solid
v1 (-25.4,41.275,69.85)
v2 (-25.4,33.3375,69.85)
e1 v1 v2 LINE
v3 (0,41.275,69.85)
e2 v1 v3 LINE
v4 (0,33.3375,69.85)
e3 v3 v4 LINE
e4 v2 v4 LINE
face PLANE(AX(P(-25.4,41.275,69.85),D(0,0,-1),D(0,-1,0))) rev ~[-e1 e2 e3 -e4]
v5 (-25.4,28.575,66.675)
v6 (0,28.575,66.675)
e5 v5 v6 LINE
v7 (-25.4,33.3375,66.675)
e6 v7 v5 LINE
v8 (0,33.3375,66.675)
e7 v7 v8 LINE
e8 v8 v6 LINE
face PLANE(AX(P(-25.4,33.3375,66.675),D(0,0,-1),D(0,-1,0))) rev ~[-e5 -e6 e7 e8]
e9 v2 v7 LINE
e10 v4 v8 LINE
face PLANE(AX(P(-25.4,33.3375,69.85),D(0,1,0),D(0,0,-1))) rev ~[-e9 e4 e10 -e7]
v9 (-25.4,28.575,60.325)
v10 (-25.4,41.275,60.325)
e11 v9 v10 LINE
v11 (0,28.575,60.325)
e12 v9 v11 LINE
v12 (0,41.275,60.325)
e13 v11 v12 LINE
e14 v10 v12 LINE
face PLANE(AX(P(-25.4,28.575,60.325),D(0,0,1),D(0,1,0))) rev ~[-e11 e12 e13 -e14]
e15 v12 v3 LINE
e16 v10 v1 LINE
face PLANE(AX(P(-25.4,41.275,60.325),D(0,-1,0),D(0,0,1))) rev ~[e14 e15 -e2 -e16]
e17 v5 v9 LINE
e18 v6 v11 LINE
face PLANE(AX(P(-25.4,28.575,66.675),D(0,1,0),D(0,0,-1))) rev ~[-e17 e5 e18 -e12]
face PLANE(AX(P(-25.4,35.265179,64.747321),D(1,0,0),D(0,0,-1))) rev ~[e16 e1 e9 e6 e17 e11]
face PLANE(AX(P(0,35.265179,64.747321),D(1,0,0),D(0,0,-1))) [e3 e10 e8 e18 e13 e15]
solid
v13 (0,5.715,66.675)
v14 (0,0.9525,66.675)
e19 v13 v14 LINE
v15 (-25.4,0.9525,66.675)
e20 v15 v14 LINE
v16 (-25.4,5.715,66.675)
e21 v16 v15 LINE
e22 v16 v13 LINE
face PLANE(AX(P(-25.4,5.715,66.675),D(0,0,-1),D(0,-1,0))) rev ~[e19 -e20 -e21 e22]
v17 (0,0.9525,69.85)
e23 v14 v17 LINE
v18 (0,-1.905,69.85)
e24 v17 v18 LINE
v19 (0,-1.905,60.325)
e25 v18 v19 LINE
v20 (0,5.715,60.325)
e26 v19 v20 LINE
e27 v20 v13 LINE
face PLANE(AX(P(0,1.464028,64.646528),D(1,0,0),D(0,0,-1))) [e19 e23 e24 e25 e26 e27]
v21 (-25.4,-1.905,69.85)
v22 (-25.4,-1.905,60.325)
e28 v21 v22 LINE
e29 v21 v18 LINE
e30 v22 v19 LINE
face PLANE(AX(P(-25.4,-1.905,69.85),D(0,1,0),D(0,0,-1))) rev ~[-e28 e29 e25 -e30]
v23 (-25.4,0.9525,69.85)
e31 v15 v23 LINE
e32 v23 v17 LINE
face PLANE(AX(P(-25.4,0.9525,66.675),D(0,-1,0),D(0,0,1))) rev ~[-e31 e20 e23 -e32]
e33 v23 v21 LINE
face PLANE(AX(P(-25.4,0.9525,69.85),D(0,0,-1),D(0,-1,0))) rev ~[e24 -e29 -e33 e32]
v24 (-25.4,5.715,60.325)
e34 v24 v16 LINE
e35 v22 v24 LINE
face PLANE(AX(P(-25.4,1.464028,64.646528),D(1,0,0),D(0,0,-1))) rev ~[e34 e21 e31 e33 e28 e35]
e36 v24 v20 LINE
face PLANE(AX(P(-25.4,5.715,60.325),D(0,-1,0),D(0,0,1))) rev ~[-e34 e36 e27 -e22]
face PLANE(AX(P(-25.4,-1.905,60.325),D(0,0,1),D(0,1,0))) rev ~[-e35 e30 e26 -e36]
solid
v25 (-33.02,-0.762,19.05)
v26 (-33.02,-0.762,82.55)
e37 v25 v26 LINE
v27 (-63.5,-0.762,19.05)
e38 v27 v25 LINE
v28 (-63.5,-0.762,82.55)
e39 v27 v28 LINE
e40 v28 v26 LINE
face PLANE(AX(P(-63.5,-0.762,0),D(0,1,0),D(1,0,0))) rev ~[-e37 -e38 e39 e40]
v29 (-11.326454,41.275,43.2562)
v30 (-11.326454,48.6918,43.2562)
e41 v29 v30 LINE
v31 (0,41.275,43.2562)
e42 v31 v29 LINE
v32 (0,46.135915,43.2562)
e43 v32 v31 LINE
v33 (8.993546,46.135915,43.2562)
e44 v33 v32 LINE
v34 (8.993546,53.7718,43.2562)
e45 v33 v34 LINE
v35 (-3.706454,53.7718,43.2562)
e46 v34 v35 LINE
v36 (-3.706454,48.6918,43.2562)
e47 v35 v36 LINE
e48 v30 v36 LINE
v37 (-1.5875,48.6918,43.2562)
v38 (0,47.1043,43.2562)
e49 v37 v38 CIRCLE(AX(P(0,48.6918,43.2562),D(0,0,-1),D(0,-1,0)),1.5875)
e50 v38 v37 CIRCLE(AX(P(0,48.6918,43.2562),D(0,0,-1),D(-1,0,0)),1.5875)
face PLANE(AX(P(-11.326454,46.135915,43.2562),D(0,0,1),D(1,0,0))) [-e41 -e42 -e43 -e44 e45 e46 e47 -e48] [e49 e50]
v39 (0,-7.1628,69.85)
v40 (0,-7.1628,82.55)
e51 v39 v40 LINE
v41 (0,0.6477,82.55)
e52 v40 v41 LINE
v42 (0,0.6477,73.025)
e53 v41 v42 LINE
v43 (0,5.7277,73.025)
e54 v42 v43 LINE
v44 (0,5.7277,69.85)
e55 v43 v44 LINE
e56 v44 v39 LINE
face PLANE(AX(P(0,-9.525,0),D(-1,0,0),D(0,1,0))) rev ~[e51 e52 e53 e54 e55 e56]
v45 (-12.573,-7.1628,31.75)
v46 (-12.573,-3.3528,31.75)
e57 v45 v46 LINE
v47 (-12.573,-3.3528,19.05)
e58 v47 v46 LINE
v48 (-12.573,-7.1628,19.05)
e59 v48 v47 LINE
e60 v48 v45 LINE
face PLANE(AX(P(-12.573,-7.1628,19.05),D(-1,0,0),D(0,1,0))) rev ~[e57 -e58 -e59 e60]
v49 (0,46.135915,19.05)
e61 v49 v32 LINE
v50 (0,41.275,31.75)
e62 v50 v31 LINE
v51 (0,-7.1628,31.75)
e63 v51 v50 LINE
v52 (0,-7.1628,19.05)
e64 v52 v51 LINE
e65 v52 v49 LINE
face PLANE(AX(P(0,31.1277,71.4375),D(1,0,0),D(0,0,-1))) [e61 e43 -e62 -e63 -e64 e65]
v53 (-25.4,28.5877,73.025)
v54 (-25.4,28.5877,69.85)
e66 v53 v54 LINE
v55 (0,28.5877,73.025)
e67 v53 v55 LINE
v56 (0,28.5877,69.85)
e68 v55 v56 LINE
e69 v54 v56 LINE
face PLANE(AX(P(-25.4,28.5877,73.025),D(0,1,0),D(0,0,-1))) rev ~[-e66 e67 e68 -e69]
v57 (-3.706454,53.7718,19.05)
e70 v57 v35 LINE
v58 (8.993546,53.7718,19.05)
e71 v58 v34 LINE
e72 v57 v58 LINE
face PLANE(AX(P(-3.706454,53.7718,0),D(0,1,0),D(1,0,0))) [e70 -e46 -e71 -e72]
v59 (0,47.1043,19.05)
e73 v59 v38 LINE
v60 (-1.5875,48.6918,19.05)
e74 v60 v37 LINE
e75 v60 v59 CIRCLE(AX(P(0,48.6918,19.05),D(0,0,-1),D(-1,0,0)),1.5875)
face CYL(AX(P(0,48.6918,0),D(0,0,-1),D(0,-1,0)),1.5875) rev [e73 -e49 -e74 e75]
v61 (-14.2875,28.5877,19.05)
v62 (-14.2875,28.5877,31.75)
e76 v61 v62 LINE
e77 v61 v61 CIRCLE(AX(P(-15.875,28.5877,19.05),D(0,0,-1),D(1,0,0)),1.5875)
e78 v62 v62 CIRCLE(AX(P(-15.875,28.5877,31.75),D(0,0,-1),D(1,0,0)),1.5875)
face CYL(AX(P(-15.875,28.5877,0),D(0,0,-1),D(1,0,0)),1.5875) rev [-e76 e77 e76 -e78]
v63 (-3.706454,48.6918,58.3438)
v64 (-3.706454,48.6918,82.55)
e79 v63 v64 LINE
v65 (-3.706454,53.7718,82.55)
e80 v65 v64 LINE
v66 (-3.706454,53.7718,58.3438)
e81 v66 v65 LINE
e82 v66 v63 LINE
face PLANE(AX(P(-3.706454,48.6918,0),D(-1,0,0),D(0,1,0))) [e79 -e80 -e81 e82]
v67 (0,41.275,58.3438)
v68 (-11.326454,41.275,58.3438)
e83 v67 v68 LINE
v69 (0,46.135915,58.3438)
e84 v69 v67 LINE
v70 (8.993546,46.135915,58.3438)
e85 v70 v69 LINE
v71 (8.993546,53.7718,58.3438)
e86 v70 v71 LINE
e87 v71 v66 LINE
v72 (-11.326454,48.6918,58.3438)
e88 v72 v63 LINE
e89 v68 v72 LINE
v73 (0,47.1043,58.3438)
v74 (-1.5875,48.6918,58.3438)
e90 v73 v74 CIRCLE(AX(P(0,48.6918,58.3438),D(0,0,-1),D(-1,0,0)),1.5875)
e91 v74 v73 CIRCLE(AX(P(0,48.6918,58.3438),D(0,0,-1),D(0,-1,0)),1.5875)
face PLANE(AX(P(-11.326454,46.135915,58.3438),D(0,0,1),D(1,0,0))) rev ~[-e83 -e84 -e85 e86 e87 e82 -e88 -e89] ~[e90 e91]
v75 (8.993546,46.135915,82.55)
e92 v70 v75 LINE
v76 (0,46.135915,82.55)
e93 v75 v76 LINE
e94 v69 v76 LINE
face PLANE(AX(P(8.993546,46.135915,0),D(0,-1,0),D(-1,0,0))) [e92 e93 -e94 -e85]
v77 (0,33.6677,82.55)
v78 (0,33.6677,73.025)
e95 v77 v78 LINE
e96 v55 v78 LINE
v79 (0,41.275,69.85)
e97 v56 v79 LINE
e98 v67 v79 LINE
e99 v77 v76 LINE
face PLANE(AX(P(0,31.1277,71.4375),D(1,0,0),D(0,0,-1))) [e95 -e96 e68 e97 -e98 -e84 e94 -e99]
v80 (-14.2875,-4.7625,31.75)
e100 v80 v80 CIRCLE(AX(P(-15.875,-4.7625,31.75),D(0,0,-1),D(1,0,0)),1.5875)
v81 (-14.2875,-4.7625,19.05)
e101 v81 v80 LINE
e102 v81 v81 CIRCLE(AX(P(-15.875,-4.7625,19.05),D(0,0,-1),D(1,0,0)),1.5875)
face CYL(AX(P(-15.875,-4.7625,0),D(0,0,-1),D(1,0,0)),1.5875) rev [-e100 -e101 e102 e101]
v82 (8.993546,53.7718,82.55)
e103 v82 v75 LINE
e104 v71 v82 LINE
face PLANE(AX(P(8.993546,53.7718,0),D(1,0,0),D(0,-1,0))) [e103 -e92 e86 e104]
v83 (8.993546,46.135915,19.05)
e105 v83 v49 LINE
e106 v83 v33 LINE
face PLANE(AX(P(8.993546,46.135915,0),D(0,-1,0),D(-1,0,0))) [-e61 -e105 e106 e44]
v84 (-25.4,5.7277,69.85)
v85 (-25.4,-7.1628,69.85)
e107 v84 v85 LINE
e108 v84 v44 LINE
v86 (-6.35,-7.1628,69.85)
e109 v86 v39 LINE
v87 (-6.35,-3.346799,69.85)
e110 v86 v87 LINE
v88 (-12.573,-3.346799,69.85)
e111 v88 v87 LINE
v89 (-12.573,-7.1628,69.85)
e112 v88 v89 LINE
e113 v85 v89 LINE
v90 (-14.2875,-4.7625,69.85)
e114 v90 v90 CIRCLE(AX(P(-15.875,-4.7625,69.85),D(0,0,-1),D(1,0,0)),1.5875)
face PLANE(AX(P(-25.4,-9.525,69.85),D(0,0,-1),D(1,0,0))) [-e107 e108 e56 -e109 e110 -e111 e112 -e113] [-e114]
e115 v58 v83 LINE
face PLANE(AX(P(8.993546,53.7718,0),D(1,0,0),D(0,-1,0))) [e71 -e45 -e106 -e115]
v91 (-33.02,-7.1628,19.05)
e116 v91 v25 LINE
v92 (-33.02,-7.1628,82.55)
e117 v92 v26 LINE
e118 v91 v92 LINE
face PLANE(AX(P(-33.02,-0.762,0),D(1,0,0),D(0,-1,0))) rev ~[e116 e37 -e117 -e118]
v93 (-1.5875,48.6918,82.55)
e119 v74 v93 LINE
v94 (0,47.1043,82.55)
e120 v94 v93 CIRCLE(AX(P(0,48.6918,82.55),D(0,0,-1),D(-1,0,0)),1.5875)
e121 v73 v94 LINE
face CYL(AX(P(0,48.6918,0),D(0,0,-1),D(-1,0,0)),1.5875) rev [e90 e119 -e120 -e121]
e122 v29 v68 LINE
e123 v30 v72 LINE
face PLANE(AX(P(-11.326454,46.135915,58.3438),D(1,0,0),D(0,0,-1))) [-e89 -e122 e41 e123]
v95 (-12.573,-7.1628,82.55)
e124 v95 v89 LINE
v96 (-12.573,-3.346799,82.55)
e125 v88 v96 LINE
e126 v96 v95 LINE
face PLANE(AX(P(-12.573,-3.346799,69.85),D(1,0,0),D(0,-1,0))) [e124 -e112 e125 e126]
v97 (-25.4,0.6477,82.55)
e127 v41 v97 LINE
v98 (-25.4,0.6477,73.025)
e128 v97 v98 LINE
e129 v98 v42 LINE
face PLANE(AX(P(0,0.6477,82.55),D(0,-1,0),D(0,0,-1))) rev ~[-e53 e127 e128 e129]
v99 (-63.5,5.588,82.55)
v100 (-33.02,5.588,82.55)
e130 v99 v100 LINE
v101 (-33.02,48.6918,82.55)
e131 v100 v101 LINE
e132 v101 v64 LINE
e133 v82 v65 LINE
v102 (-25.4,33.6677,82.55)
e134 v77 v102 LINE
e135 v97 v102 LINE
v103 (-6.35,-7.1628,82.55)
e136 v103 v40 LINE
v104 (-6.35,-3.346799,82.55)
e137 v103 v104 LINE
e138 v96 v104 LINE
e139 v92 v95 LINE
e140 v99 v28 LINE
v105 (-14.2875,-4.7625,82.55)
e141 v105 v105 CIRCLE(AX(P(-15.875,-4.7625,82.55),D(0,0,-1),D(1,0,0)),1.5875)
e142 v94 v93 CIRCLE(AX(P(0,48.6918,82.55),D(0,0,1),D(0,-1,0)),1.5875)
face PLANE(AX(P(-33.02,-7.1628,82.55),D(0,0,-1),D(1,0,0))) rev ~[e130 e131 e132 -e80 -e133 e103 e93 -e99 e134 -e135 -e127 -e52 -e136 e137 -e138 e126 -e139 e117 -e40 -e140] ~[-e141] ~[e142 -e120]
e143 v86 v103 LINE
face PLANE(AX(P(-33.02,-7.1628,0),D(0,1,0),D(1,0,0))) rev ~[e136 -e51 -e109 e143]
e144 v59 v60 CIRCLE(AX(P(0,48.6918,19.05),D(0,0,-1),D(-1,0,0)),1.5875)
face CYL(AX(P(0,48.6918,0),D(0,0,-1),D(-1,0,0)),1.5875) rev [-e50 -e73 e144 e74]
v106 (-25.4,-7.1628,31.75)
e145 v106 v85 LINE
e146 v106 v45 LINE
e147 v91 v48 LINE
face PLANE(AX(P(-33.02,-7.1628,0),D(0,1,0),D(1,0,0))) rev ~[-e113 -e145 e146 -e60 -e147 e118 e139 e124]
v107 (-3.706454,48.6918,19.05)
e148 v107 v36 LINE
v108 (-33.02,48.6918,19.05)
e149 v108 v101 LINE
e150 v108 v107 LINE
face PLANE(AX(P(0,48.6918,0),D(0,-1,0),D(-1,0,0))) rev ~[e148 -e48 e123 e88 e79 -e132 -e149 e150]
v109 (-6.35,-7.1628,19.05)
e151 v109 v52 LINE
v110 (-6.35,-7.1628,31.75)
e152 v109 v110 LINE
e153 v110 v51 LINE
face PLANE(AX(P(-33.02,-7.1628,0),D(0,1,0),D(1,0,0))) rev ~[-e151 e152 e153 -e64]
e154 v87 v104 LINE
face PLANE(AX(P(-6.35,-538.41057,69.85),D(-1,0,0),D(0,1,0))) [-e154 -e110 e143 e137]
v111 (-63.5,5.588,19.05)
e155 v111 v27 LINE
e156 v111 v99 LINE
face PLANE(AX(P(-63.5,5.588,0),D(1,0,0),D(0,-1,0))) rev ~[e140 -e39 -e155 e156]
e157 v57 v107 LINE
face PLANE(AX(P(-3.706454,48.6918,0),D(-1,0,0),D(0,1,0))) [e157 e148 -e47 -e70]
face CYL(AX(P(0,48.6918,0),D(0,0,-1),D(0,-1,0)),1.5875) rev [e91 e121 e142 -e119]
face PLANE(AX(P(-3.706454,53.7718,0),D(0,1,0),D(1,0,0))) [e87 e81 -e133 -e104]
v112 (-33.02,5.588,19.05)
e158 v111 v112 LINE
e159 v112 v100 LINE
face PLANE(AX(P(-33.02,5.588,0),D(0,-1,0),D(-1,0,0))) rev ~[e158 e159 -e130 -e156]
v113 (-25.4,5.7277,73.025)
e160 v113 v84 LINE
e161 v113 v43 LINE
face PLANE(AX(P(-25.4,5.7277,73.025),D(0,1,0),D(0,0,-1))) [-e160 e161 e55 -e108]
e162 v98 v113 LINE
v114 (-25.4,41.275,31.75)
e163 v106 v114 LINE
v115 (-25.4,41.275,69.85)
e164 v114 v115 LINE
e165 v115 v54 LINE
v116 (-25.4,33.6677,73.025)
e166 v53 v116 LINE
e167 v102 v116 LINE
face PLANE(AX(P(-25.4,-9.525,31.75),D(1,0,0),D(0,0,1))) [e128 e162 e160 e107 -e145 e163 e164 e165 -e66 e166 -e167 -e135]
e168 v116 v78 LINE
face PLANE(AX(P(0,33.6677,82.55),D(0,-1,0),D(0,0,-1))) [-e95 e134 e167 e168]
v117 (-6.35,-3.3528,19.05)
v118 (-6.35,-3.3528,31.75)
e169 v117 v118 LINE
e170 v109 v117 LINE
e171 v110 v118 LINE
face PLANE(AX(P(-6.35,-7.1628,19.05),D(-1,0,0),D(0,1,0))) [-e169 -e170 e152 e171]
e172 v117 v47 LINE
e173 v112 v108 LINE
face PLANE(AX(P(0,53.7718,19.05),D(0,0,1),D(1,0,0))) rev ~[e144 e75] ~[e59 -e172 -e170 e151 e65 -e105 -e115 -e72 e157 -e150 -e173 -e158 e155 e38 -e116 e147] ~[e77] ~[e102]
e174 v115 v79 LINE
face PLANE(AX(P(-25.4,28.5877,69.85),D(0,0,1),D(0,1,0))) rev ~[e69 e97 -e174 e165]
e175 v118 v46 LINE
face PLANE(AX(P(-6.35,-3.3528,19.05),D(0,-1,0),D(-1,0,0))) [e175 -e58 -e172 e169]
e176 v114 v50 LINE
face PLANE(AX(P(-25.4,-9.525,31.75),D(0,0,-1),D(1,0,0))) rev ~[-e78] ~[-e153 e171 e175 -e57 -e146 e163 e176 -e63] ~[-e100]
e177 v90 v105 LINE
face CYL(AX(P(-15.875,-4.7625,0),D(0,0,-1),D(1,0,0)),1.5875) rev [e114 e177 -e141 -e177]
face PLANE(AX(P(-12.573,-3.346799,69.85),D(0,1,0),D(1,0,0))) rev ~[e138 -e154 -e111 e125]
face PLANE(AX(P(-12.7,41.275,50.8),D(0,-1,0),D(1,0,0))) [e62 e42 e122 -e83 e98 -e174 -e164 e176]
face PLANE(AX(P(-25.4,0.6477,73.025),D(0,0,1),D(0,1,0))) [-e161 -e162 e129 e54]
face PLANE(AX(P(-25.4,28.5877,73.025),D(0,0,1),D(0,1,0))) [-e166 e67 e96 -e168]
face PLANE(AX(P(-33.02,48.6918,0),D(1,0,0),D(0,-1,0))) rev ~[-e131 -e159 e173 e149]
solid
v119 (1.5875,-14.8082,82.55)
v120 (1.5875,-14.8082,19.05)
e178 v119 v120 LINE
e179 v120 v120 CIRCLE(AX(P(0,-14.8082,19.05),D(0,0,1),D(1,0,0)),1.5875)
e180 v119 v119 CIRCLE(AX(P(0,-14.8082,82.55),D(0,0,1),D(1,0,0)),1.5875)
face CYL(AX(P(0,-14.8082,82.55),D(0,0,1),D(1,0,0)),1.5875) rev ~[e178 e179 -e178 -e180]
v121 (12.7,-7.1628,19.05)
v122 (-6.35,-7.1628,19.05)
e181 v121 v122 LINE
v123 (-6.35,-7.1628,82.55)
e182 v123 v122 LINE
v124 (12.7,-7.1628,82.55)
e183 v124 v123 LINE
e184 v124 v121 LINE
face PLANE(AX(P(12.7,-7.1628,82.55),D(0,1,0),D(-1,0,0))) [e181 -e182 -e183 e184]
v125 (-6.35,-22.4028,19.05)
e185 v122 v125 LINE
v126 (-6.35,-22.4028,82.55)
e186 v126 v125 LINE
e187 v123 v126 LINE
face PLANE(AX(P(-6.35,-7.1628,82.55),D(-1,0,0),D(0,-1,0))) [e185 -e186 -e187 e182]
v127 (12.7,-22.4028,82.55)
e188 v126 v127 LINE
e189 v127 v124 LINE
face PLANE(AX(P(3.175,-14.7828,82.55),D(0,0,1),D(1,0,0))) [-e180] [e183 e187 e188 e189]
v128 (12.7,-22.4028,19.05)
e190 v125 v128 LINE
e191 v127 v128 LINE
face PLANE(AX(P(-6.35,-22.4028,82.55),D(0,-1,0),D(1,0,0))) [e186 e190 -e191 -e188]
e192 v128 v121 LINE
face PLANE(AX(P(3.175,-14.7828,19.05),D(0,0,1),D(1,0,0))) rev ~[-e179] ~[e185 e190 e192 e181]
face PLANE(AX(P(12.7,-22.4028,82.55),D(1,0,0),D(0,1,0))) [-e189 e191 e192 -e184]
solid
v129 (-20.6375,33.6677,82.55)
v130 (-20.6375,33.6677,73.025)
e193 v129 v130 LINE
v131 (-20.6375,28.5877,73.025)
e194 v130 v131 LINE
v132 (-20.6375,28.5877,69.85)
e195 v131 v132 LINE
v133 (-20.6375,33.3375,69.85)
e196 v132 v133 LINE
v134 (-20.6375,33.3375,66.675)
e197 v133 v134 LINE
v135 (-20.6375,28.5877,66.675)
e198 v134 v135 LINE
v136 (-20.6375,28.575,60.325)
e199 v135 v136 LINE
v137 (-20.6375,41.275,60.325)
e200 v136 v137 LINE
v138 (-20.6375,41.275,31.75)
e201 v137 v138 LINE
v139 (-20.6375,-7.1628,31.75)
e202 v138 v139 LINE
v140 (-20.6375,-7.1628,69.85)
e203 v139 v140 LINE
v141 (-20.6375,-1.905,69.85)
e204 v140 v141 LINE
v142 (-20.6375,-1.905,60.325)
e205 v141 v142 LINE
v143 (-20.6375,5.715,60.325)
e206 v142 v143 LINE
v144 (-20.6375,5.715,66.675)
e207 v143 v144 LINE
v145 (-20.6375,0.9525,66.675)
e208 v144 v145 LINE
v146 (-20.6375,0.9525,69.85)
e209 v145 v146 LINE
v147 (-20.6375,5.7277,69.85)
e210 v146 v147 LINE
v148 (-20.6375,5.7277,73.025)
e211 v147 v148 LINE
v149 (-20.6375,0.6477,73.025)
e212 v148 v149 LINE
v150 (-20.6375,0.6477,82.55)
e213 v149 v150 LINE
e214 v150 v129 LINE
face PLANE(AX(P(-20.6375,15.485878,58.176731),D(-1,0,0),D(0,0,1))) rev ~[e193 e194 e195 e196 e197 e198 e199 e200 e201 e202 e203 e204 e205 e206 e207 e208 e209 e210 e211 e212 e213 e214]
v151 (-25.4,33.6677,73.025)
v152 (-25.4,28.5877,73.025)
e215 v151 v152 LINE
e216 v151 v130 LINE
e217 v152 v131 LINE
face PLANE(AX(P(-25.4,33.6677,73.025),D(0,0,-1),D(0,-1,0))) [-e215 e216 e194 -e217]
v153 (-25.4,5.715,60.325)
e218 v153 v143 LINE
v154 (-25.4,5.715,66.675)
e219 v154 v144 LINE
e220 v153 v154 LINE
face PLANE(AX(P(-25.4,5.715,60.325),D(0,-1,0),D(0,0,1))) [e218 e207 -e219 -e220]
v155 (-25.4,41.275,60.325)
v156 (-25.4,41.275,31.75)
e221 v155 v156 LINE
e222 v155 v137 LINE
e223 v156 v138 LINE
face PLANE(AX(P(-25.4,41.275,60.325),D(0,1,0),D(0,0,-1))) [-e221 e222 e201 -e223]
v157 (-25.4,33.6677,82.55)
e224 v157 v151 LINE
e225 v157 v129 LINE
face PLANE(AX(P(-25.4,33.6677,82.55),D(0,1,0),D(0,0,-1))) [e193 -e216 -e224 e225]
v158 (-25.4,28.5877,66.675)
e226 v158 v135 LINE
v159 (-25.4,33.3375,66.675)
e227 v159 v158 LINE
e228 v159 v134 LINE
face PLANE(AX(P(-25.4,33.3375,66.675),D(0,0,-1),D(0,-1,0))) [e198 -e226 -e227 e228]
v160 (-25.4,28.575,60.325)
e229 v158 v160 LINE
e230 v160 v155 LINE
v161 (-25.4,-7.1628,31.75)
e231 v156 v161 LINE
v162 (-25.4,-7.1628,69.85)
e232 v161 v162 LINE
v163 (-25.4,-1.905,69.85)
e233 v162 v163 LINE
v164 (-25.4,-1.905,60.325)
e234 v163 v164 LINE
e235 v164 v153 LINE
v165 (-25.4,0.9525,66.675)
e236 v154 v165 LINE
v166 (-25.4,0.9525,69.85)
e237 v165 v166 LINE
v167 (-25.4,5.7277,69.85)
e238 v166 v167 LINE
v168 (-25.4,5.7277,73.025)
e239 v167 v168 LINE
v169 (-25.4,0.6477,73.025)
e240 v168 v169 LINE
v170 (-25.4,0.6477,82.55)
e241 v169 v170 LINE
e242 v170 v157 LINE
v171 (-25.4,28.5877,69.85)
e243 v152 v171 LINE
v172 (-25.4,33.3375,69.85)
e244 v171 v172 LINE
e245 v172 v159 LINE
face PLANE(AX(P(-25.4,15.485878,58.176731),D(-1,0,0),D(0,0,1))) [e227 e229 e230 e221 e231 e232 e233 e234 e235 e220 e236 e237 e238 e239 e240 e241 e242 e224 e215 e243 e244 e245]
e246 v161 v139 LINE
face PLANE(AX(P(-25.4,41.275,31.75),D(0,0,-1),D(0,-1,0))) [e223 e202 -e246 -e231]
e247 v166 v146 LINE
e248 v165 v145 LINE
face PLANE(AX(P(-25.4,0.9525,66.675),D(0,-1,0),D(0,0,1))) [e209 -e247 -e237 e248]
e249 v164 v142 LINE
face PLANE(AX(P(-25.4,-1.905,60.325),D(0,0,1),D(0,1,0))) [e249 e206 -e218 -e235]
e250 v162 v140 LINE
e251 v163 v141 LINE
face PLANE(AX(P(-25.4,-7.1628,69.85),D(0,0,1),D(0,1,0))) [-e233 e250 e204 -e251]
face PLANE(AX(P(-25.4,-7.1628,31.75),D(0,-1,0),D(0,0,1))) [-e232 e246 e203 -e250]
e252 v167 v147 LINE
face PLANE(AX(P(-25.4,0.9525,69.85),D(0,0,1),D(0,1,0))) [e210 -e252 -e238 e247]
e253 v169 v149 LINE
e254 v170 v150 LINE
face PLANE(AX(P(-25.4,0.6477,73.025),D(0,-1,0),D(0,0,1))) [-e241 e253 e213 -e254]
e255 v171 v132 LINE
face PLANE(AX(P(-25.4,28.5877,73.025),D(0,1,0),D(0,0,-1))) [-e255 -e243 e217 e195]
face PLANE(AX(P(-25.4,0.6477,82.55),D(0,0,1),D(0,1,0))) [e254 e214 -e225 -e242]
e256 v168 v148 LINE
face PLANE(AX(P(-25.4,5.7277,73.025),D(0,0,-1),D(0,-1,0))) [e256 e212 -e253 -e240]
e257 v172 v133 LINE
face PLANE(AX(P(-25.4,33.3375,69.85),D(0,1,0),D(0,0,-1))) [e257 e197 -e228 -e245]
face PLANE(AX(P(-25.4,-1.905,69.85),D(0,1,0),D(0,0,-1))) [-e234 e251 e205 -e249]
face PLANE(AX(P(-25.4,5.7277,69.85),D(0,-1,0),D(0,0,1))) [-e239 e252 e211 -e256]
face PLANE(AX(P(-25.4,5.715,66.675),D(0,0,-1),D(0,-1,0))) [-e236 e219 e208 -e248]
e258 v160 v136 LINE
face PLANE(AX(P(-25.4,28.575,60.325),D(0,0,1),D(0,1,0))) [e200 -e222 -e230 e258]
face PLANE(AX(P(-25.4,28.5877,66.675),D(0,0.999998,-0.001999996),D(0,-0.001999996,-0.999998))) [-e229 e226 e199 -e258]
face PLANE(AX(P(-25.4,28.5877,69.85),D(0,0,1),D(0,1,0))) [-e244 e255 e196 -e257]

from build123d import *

# Parameters (mm, degrees)
SKETCH8_R                = 1.5875
BOSS_EXTRUDE3_DEPTH      = 101.6
SKETCH40_W               = 25.4
SKETCH40_H               = 38.1
CUT_EXTRUDE24_DEPTH      = 50.8
CUT_EXTRUDE11_DEPTH      = 130.327883255
CUT_EXTRUDE11_DEPTH_BACK = 101.6
SKETCH18_W               = 33.02
SKETCH18_H               = 2.3622
BOSS_EXTRUDE4_DEPTH      = 101.6
CUT_EXTRUDE12_START      = -101.6
SKETCH20_R               = 1.5875
CUT_EXTRUDE12_DEPTH      = 101.6
SKETCH21_W               = 33.02
SKETCH21_H               = 19.05
CUT_EXTRUDE13_DEPTH      = 135.416648809
SKETCH24_W               = 8.993546066
SKETCH24_H               = 19.05
CUT_EXTRUDE15_DEPTH      = 135.416648809
SKETCH38_W               = 15.0876
SKETCH38_H               = 7.635884817
CUT_EXTRUDE21_DEPTH      = 20.32
SKETCH41_W               = 30.48
SKETCH41_H               = 19.05
CUT_EXTRUDE25_DEPTH      = 130.137479387
SKETCH43_W               = 12.7
SKETCH43_H               = 33.02
CUT_EXTRUDE26_DEPTH      = 25.4
SKETCH44_W               = 3.175
SKETCH44_H               = 5.08
BOSS_EXTRUDE5_DEPTH      = 25.4
BOSS_EXTRUDE6_DEPTH      = 25.4
BOSS_EXTRUDE6_2_DEPTH    = 25.4
SKETCH46_R               = 1.5875
BOSS_EXTRUDE7_DEPTH      = 63.5
CUT_EXTRUDE29_DEPTH      = 105.670466108
CUT_EXTRUDE29_DEPTH_BACK = 12.7
SKETCH49_W               = 6.223
SKETCH49_H               = 3.81
CUT_EXTRUDE31_DEPTH      = 12.7
SKETCH50_W               = 11.326453934
SKETCH50_H               = 15.0876
CUT_EXTRUDE33_DEPTH      = 4.8768
BOSS_EXTRUDE8_DEPTH      = 4.7625


with BuildPart() as part:
    # Sketch8 → Boss-Extrude3 (new body)
    with BuildSketch(Plane.XY):
        Polygon((0, 0), (0, 48.6918), (-33.02, 48.6918), (-33.02, 5.588), (-63.5, 5.588), (-63.5, -0.762), (-33.02, -0.762), (-33.02, -9.525), (-9.525, -9.525), (0, -9.525), align=None)
        with Locations((-15.875, 28.5877)):
            Circle(SKETCH8_R, mode=Mode.SUBTRACT)
        with Locations((-15.875, -4.7625)):
            Circle(SKETCH8_R, mode=Mode.SUBTRACT)
    extrude(amount=BOSS_EXTRUDE3_DEPTH)

    # Sketch40 → Cut-Extrude24 (cut)
    with BuildSketch(Plane.XZ.offset(9.525)):
        with Locations((-12.7, 50.8)):
            Rectangle(SKETCH40_W, SKETCH40_H)
    extrude(amount=-CUT_EXTRUDE24_DEPTH, mode=Mode.SUBTRACT)

    # Sketch18 → Cut-Extrude11 (cut, two sides: drawn at the far end of the back side and taken through both)
    with BuildSketch(Plane.XY.offset(101.6).offset(-CUT_EXTRUDE11_DEPTH_BACK)):
        with Locations((-16.51, -8.3439)):
            Rectangle(SKETCH18_W, SKETCH18_H)
    extrude(amount=CUT_EXTRUDE11_DEPTH + CUT_EXTRUDE11_DEPTH_BACK, mode=Mode.SUBTRACT)

    # Sketch19 → Boss-Extrude4 (add)
    with BuildSketch(Plane(origin=(0, 0, 0), x_dir=(-1, 0, 0), z_dir=(0, 0, -1))):
        with BuildLine():
            Line((1.5875, 48.6918), (3.706453934, 48.6918))
            Line((3.706453934, 48.6918), (3.706453934, 53.7718))
            Line((3.706453934, 53.7718), (-8.993546066, 53.7718))
            Line((-8.993546066, 53.7718), (-8.993546066, 46.135915183))
            Line((-8.993546066, 46.135915183), (0, 46.135915183))
            Line((0, 46.135915183), (0, 47.1043))
            ThreePointArc((0, 47.1043), (-1.122532015, 49.814332015), (1.5875, 48.6918))
        make_face()
    extrude(amount=-BOSS_EXTRUDE4_DEPTH)

    # Sketch20 → Cut-Extrude12 (cut)
    with BuildSketch(Plane.XY.offset(101.6).offset(CUT_EXTRUDE12_START)):
        with Locations(Location((0, 48.6918, 0), (0, 0, 180))):
            Circle(SKETCH20_R)
    extrude(amount=CUT_EXTRUDE12_DEPTH, mode=Mode.SUBTRACT)

    # Sketch21 → Cut-Extrude13 (cut, through all)
    with BuildSketch(Plane.XZ.offset(7.1628)):
        with Locations((-16.51, 92.075)):
            Rectangle(SKETCH21_W, SKETCH21_H)
        with Locations((-16.51, 9.525)):
            Rectangle(SKETCH21_W, SKETCH21_H)
    extrude(amount=-CUT_EXTRUDE13_DEPTH, mode=Mode.SUBTRACT)

    # Sketch24 → Cut-Extrude15 (cut, through all)
    with BuildSketch(Plane(origin=(0, 53.7718, 0), x_dir=(1, 0, 0), z_dir=(0, 1, 0))):
        with Locations((4.496773033, -92.075)):
            Rectangle(SKETCH24_W, SKETCH24_H)
        with Locations((4.496773033, -9.525)):
            Rectangle(SKETCH24_W, SKETCH24_H)
    extrude(amount=-CUT_EXTRUDE15_DEPTH, mode=Mode.SUBTRACT)

    # Sketch38 → Cut-Extrude21 (cut)
    with BuildSketch(Plane(origin=(8.993546066, 0, 0), x_dir=(0, 0, -1), z_dir=(1, 0, 0))):
        with Locations((-50.8, 49.953857592)):
            Rectangle(SKETCH38_W, SKETCH38_H)
    extrude(amount=-CUT_EXTRUDE21_DEPTH, mode=Mode.SUBTRACT)

    # Sketch41 → Cut-Extrude25 (cut, through all)
    with BuildSketch(Plane(origin=(0, 5.588, 0), x_dir=(1, 0, 0), z_dir=(0, 1, 0))):
        with Locations((-48.26, -9.525)):
            Rectangle(SKETCH41_W, SKETCH41_H)
        with Locations((-48.26, -92.075)):
            Rectangle(SKETCH41_W, SKETCH41_H)
    extrude(amount=-CUT_EXTRUDE25_DEPTH, mode=Mode.SUBTRACT)

    # Sketch43 → Cut-Extrude26 (cut)
    with BuildSketch(Plane(origin=(0, 0, 0), x_dir=(0, 0, -1), z_dir=(1, 0, 0))):
        with Locations((-76.2, 17.1577)):
            Rectangle(SKETCH43_W, SKETCH43_H)
    extrude(amount=-CUT_EXTRUDE26_DEPTH, mode=Mode.SUBTRACT)

    # Sketch44 → Boss-Extrude5 (add)
    with BuildSketch(Plane(origin=(-25.4, 0, 0), x_dir=(0, 0, -1), z_dir=(1, 0, 0))):
        with Locations((-71.4375, 31.1277)):
            Rectangle(SKETCH44_W, SKETCH44_H)
        with Locations((-71.4375, 3.1877)):
            Rectangle(SKETCH44_W, SKETCH44_H)
    extrude(amount=BOSS_EXTRUDE5_DEPTH)

    # Sketch48 → Cut-Extrude29 (cut, two sides: drawn at the far end of the back side and taken through both)
    with BuildSketch(Plane.XY.offset(82.55).offset(-CUT_EXTRUDE29_DEPTH_BACK)):
        Polygon((-12.573, -184.245390082), (-12.573, -7.1628), (-12.573, -3.346799078), (-6.35, -3.346799078), (-6.35, -7.1628), (-6.35, -184.245390082), (-6.35, -538.410570247), (-12.573, -538.410570247), align=None)
    extrude(amount=CUT_EXTRUDE29_DEPTH + CUT_EXTRUDE29_DEPTH_BACK, mode=Mode.SUBTRACT)

    # Sketch49 → Cut-Extrude31 (cut)
    with BuildSketch(Plane(origin=(0, 0, 19.05), x_dir=(-1, 0, 0), z_dir=(0, 0, -1))):
        with Locations((9.4615, -5.2578)):
            Rectangle(SKETCH49_W, SKETCH49_H)
    extrude(amount=-CUT_EXTRUDE31_DEPTH, mode=Mode.SUBTRACT)

    # Sketch50 → Cut-Extrude33 (cut)
    with BuildSketch(Plane(origin=(0, 46.135915183, 0), x_dir=(1, 0, 0), z_dir=(0, 1, 0))):
        with Locations((-5.663226967, -50.8)):
            Rectangle(SKETCH50_W, SKETCH50_H)
    extrude(amount=-CUT_EXTRUDE33_DEPTH, mode=Mode.SUBTRACT)


with BuildPart() as body_2:
    # Sketch45 → Boss-Extrude6 (new body)
    with BuildSketch(Plane(origin=(-25.4, 0, 0), x_dir=(0, 0, -1), z_dir=(1, 0, 0))):
        Polygon((-60.325, -1.905), (-60.325, 5.715), (-66.675, 5.715), (-66.675, 0.9525), (-69.85, 0.9525), (-69.85, -1.905), align=None)
    extrude(amount=BOSS_EXTRUDE6_DEPTH)


with BuildPart() as body_3:
    # Sketch45 → Boss-Extrude6 2 (new body)
    with BuildSketch(Plane(origin=(-25.4, 0, 0), x_dir=(0, 0, -1), z_dir=(1, 0, 0))):
        Polygon((-60.325, 41.275), (-69.85, 41.275), (-69.85, 33.3375), (-66.675, 33.3375), (-66.675, 28.575), (-60.325, 28.575), align=None)
    extrude(amount=BOSS_EXTRUDE6_2_DEPTH)


with BuildPart() as body_4:
    # Sketch46 → Boss-Extrude7 (new body)
    with BuildSketch(Plane.XY.offset(82.55)):
        Polygon((12.7, -7.1628), (0, -7.1628), (-6.35, -7.1628), (-6.35, -22.4028), (12.7, -22.4028), align=None)
        with Locations((0, -14.8082)):
            Circle(SKETCH46_R, mode=Mode.SUBTRACT)
    extrude(amount=-BOSS_EXTRUDE7_DEPTH)


with BuildPart() as body_5:
    # Sketch52 → Boss-Extrude8 (new body)
    with BuildSketch(Plane(origin=(-25.4, 0, 0), x_dir=(0, 0, -1), z_dir=(1, 0, 0))):
        Polygon((-82.55, 33.6677), (-73.025, 33.6677), (-73.025, 28.5877), (-69.85, 28.5877), (-69.85, 33.3375), (-66.675, 33.3375), (-66.675, 28.5877), (-60.325, 28.575), (-60.325, 41.275), (-31.75, 41.275), (-31.75, -7.1628), (-69.85, -7.1628), (-69.85, -1.905), (-60.325, -1.905), (-60.325, 5.715), (-66.675, 5.715), (-66.675, 0.9525), (-69.85, 0.9525), (-69.85, 5.7277), (-73.025, 5.7277), (-73.025, 0.6477), (-82.55, 0.6477), align=None)
    extrude(amount=BOSS_EXTRUDE8_DEPTH)


solid = Compound([part.part, body_2.part, body_3.part, body_4.part, body_5.part])
